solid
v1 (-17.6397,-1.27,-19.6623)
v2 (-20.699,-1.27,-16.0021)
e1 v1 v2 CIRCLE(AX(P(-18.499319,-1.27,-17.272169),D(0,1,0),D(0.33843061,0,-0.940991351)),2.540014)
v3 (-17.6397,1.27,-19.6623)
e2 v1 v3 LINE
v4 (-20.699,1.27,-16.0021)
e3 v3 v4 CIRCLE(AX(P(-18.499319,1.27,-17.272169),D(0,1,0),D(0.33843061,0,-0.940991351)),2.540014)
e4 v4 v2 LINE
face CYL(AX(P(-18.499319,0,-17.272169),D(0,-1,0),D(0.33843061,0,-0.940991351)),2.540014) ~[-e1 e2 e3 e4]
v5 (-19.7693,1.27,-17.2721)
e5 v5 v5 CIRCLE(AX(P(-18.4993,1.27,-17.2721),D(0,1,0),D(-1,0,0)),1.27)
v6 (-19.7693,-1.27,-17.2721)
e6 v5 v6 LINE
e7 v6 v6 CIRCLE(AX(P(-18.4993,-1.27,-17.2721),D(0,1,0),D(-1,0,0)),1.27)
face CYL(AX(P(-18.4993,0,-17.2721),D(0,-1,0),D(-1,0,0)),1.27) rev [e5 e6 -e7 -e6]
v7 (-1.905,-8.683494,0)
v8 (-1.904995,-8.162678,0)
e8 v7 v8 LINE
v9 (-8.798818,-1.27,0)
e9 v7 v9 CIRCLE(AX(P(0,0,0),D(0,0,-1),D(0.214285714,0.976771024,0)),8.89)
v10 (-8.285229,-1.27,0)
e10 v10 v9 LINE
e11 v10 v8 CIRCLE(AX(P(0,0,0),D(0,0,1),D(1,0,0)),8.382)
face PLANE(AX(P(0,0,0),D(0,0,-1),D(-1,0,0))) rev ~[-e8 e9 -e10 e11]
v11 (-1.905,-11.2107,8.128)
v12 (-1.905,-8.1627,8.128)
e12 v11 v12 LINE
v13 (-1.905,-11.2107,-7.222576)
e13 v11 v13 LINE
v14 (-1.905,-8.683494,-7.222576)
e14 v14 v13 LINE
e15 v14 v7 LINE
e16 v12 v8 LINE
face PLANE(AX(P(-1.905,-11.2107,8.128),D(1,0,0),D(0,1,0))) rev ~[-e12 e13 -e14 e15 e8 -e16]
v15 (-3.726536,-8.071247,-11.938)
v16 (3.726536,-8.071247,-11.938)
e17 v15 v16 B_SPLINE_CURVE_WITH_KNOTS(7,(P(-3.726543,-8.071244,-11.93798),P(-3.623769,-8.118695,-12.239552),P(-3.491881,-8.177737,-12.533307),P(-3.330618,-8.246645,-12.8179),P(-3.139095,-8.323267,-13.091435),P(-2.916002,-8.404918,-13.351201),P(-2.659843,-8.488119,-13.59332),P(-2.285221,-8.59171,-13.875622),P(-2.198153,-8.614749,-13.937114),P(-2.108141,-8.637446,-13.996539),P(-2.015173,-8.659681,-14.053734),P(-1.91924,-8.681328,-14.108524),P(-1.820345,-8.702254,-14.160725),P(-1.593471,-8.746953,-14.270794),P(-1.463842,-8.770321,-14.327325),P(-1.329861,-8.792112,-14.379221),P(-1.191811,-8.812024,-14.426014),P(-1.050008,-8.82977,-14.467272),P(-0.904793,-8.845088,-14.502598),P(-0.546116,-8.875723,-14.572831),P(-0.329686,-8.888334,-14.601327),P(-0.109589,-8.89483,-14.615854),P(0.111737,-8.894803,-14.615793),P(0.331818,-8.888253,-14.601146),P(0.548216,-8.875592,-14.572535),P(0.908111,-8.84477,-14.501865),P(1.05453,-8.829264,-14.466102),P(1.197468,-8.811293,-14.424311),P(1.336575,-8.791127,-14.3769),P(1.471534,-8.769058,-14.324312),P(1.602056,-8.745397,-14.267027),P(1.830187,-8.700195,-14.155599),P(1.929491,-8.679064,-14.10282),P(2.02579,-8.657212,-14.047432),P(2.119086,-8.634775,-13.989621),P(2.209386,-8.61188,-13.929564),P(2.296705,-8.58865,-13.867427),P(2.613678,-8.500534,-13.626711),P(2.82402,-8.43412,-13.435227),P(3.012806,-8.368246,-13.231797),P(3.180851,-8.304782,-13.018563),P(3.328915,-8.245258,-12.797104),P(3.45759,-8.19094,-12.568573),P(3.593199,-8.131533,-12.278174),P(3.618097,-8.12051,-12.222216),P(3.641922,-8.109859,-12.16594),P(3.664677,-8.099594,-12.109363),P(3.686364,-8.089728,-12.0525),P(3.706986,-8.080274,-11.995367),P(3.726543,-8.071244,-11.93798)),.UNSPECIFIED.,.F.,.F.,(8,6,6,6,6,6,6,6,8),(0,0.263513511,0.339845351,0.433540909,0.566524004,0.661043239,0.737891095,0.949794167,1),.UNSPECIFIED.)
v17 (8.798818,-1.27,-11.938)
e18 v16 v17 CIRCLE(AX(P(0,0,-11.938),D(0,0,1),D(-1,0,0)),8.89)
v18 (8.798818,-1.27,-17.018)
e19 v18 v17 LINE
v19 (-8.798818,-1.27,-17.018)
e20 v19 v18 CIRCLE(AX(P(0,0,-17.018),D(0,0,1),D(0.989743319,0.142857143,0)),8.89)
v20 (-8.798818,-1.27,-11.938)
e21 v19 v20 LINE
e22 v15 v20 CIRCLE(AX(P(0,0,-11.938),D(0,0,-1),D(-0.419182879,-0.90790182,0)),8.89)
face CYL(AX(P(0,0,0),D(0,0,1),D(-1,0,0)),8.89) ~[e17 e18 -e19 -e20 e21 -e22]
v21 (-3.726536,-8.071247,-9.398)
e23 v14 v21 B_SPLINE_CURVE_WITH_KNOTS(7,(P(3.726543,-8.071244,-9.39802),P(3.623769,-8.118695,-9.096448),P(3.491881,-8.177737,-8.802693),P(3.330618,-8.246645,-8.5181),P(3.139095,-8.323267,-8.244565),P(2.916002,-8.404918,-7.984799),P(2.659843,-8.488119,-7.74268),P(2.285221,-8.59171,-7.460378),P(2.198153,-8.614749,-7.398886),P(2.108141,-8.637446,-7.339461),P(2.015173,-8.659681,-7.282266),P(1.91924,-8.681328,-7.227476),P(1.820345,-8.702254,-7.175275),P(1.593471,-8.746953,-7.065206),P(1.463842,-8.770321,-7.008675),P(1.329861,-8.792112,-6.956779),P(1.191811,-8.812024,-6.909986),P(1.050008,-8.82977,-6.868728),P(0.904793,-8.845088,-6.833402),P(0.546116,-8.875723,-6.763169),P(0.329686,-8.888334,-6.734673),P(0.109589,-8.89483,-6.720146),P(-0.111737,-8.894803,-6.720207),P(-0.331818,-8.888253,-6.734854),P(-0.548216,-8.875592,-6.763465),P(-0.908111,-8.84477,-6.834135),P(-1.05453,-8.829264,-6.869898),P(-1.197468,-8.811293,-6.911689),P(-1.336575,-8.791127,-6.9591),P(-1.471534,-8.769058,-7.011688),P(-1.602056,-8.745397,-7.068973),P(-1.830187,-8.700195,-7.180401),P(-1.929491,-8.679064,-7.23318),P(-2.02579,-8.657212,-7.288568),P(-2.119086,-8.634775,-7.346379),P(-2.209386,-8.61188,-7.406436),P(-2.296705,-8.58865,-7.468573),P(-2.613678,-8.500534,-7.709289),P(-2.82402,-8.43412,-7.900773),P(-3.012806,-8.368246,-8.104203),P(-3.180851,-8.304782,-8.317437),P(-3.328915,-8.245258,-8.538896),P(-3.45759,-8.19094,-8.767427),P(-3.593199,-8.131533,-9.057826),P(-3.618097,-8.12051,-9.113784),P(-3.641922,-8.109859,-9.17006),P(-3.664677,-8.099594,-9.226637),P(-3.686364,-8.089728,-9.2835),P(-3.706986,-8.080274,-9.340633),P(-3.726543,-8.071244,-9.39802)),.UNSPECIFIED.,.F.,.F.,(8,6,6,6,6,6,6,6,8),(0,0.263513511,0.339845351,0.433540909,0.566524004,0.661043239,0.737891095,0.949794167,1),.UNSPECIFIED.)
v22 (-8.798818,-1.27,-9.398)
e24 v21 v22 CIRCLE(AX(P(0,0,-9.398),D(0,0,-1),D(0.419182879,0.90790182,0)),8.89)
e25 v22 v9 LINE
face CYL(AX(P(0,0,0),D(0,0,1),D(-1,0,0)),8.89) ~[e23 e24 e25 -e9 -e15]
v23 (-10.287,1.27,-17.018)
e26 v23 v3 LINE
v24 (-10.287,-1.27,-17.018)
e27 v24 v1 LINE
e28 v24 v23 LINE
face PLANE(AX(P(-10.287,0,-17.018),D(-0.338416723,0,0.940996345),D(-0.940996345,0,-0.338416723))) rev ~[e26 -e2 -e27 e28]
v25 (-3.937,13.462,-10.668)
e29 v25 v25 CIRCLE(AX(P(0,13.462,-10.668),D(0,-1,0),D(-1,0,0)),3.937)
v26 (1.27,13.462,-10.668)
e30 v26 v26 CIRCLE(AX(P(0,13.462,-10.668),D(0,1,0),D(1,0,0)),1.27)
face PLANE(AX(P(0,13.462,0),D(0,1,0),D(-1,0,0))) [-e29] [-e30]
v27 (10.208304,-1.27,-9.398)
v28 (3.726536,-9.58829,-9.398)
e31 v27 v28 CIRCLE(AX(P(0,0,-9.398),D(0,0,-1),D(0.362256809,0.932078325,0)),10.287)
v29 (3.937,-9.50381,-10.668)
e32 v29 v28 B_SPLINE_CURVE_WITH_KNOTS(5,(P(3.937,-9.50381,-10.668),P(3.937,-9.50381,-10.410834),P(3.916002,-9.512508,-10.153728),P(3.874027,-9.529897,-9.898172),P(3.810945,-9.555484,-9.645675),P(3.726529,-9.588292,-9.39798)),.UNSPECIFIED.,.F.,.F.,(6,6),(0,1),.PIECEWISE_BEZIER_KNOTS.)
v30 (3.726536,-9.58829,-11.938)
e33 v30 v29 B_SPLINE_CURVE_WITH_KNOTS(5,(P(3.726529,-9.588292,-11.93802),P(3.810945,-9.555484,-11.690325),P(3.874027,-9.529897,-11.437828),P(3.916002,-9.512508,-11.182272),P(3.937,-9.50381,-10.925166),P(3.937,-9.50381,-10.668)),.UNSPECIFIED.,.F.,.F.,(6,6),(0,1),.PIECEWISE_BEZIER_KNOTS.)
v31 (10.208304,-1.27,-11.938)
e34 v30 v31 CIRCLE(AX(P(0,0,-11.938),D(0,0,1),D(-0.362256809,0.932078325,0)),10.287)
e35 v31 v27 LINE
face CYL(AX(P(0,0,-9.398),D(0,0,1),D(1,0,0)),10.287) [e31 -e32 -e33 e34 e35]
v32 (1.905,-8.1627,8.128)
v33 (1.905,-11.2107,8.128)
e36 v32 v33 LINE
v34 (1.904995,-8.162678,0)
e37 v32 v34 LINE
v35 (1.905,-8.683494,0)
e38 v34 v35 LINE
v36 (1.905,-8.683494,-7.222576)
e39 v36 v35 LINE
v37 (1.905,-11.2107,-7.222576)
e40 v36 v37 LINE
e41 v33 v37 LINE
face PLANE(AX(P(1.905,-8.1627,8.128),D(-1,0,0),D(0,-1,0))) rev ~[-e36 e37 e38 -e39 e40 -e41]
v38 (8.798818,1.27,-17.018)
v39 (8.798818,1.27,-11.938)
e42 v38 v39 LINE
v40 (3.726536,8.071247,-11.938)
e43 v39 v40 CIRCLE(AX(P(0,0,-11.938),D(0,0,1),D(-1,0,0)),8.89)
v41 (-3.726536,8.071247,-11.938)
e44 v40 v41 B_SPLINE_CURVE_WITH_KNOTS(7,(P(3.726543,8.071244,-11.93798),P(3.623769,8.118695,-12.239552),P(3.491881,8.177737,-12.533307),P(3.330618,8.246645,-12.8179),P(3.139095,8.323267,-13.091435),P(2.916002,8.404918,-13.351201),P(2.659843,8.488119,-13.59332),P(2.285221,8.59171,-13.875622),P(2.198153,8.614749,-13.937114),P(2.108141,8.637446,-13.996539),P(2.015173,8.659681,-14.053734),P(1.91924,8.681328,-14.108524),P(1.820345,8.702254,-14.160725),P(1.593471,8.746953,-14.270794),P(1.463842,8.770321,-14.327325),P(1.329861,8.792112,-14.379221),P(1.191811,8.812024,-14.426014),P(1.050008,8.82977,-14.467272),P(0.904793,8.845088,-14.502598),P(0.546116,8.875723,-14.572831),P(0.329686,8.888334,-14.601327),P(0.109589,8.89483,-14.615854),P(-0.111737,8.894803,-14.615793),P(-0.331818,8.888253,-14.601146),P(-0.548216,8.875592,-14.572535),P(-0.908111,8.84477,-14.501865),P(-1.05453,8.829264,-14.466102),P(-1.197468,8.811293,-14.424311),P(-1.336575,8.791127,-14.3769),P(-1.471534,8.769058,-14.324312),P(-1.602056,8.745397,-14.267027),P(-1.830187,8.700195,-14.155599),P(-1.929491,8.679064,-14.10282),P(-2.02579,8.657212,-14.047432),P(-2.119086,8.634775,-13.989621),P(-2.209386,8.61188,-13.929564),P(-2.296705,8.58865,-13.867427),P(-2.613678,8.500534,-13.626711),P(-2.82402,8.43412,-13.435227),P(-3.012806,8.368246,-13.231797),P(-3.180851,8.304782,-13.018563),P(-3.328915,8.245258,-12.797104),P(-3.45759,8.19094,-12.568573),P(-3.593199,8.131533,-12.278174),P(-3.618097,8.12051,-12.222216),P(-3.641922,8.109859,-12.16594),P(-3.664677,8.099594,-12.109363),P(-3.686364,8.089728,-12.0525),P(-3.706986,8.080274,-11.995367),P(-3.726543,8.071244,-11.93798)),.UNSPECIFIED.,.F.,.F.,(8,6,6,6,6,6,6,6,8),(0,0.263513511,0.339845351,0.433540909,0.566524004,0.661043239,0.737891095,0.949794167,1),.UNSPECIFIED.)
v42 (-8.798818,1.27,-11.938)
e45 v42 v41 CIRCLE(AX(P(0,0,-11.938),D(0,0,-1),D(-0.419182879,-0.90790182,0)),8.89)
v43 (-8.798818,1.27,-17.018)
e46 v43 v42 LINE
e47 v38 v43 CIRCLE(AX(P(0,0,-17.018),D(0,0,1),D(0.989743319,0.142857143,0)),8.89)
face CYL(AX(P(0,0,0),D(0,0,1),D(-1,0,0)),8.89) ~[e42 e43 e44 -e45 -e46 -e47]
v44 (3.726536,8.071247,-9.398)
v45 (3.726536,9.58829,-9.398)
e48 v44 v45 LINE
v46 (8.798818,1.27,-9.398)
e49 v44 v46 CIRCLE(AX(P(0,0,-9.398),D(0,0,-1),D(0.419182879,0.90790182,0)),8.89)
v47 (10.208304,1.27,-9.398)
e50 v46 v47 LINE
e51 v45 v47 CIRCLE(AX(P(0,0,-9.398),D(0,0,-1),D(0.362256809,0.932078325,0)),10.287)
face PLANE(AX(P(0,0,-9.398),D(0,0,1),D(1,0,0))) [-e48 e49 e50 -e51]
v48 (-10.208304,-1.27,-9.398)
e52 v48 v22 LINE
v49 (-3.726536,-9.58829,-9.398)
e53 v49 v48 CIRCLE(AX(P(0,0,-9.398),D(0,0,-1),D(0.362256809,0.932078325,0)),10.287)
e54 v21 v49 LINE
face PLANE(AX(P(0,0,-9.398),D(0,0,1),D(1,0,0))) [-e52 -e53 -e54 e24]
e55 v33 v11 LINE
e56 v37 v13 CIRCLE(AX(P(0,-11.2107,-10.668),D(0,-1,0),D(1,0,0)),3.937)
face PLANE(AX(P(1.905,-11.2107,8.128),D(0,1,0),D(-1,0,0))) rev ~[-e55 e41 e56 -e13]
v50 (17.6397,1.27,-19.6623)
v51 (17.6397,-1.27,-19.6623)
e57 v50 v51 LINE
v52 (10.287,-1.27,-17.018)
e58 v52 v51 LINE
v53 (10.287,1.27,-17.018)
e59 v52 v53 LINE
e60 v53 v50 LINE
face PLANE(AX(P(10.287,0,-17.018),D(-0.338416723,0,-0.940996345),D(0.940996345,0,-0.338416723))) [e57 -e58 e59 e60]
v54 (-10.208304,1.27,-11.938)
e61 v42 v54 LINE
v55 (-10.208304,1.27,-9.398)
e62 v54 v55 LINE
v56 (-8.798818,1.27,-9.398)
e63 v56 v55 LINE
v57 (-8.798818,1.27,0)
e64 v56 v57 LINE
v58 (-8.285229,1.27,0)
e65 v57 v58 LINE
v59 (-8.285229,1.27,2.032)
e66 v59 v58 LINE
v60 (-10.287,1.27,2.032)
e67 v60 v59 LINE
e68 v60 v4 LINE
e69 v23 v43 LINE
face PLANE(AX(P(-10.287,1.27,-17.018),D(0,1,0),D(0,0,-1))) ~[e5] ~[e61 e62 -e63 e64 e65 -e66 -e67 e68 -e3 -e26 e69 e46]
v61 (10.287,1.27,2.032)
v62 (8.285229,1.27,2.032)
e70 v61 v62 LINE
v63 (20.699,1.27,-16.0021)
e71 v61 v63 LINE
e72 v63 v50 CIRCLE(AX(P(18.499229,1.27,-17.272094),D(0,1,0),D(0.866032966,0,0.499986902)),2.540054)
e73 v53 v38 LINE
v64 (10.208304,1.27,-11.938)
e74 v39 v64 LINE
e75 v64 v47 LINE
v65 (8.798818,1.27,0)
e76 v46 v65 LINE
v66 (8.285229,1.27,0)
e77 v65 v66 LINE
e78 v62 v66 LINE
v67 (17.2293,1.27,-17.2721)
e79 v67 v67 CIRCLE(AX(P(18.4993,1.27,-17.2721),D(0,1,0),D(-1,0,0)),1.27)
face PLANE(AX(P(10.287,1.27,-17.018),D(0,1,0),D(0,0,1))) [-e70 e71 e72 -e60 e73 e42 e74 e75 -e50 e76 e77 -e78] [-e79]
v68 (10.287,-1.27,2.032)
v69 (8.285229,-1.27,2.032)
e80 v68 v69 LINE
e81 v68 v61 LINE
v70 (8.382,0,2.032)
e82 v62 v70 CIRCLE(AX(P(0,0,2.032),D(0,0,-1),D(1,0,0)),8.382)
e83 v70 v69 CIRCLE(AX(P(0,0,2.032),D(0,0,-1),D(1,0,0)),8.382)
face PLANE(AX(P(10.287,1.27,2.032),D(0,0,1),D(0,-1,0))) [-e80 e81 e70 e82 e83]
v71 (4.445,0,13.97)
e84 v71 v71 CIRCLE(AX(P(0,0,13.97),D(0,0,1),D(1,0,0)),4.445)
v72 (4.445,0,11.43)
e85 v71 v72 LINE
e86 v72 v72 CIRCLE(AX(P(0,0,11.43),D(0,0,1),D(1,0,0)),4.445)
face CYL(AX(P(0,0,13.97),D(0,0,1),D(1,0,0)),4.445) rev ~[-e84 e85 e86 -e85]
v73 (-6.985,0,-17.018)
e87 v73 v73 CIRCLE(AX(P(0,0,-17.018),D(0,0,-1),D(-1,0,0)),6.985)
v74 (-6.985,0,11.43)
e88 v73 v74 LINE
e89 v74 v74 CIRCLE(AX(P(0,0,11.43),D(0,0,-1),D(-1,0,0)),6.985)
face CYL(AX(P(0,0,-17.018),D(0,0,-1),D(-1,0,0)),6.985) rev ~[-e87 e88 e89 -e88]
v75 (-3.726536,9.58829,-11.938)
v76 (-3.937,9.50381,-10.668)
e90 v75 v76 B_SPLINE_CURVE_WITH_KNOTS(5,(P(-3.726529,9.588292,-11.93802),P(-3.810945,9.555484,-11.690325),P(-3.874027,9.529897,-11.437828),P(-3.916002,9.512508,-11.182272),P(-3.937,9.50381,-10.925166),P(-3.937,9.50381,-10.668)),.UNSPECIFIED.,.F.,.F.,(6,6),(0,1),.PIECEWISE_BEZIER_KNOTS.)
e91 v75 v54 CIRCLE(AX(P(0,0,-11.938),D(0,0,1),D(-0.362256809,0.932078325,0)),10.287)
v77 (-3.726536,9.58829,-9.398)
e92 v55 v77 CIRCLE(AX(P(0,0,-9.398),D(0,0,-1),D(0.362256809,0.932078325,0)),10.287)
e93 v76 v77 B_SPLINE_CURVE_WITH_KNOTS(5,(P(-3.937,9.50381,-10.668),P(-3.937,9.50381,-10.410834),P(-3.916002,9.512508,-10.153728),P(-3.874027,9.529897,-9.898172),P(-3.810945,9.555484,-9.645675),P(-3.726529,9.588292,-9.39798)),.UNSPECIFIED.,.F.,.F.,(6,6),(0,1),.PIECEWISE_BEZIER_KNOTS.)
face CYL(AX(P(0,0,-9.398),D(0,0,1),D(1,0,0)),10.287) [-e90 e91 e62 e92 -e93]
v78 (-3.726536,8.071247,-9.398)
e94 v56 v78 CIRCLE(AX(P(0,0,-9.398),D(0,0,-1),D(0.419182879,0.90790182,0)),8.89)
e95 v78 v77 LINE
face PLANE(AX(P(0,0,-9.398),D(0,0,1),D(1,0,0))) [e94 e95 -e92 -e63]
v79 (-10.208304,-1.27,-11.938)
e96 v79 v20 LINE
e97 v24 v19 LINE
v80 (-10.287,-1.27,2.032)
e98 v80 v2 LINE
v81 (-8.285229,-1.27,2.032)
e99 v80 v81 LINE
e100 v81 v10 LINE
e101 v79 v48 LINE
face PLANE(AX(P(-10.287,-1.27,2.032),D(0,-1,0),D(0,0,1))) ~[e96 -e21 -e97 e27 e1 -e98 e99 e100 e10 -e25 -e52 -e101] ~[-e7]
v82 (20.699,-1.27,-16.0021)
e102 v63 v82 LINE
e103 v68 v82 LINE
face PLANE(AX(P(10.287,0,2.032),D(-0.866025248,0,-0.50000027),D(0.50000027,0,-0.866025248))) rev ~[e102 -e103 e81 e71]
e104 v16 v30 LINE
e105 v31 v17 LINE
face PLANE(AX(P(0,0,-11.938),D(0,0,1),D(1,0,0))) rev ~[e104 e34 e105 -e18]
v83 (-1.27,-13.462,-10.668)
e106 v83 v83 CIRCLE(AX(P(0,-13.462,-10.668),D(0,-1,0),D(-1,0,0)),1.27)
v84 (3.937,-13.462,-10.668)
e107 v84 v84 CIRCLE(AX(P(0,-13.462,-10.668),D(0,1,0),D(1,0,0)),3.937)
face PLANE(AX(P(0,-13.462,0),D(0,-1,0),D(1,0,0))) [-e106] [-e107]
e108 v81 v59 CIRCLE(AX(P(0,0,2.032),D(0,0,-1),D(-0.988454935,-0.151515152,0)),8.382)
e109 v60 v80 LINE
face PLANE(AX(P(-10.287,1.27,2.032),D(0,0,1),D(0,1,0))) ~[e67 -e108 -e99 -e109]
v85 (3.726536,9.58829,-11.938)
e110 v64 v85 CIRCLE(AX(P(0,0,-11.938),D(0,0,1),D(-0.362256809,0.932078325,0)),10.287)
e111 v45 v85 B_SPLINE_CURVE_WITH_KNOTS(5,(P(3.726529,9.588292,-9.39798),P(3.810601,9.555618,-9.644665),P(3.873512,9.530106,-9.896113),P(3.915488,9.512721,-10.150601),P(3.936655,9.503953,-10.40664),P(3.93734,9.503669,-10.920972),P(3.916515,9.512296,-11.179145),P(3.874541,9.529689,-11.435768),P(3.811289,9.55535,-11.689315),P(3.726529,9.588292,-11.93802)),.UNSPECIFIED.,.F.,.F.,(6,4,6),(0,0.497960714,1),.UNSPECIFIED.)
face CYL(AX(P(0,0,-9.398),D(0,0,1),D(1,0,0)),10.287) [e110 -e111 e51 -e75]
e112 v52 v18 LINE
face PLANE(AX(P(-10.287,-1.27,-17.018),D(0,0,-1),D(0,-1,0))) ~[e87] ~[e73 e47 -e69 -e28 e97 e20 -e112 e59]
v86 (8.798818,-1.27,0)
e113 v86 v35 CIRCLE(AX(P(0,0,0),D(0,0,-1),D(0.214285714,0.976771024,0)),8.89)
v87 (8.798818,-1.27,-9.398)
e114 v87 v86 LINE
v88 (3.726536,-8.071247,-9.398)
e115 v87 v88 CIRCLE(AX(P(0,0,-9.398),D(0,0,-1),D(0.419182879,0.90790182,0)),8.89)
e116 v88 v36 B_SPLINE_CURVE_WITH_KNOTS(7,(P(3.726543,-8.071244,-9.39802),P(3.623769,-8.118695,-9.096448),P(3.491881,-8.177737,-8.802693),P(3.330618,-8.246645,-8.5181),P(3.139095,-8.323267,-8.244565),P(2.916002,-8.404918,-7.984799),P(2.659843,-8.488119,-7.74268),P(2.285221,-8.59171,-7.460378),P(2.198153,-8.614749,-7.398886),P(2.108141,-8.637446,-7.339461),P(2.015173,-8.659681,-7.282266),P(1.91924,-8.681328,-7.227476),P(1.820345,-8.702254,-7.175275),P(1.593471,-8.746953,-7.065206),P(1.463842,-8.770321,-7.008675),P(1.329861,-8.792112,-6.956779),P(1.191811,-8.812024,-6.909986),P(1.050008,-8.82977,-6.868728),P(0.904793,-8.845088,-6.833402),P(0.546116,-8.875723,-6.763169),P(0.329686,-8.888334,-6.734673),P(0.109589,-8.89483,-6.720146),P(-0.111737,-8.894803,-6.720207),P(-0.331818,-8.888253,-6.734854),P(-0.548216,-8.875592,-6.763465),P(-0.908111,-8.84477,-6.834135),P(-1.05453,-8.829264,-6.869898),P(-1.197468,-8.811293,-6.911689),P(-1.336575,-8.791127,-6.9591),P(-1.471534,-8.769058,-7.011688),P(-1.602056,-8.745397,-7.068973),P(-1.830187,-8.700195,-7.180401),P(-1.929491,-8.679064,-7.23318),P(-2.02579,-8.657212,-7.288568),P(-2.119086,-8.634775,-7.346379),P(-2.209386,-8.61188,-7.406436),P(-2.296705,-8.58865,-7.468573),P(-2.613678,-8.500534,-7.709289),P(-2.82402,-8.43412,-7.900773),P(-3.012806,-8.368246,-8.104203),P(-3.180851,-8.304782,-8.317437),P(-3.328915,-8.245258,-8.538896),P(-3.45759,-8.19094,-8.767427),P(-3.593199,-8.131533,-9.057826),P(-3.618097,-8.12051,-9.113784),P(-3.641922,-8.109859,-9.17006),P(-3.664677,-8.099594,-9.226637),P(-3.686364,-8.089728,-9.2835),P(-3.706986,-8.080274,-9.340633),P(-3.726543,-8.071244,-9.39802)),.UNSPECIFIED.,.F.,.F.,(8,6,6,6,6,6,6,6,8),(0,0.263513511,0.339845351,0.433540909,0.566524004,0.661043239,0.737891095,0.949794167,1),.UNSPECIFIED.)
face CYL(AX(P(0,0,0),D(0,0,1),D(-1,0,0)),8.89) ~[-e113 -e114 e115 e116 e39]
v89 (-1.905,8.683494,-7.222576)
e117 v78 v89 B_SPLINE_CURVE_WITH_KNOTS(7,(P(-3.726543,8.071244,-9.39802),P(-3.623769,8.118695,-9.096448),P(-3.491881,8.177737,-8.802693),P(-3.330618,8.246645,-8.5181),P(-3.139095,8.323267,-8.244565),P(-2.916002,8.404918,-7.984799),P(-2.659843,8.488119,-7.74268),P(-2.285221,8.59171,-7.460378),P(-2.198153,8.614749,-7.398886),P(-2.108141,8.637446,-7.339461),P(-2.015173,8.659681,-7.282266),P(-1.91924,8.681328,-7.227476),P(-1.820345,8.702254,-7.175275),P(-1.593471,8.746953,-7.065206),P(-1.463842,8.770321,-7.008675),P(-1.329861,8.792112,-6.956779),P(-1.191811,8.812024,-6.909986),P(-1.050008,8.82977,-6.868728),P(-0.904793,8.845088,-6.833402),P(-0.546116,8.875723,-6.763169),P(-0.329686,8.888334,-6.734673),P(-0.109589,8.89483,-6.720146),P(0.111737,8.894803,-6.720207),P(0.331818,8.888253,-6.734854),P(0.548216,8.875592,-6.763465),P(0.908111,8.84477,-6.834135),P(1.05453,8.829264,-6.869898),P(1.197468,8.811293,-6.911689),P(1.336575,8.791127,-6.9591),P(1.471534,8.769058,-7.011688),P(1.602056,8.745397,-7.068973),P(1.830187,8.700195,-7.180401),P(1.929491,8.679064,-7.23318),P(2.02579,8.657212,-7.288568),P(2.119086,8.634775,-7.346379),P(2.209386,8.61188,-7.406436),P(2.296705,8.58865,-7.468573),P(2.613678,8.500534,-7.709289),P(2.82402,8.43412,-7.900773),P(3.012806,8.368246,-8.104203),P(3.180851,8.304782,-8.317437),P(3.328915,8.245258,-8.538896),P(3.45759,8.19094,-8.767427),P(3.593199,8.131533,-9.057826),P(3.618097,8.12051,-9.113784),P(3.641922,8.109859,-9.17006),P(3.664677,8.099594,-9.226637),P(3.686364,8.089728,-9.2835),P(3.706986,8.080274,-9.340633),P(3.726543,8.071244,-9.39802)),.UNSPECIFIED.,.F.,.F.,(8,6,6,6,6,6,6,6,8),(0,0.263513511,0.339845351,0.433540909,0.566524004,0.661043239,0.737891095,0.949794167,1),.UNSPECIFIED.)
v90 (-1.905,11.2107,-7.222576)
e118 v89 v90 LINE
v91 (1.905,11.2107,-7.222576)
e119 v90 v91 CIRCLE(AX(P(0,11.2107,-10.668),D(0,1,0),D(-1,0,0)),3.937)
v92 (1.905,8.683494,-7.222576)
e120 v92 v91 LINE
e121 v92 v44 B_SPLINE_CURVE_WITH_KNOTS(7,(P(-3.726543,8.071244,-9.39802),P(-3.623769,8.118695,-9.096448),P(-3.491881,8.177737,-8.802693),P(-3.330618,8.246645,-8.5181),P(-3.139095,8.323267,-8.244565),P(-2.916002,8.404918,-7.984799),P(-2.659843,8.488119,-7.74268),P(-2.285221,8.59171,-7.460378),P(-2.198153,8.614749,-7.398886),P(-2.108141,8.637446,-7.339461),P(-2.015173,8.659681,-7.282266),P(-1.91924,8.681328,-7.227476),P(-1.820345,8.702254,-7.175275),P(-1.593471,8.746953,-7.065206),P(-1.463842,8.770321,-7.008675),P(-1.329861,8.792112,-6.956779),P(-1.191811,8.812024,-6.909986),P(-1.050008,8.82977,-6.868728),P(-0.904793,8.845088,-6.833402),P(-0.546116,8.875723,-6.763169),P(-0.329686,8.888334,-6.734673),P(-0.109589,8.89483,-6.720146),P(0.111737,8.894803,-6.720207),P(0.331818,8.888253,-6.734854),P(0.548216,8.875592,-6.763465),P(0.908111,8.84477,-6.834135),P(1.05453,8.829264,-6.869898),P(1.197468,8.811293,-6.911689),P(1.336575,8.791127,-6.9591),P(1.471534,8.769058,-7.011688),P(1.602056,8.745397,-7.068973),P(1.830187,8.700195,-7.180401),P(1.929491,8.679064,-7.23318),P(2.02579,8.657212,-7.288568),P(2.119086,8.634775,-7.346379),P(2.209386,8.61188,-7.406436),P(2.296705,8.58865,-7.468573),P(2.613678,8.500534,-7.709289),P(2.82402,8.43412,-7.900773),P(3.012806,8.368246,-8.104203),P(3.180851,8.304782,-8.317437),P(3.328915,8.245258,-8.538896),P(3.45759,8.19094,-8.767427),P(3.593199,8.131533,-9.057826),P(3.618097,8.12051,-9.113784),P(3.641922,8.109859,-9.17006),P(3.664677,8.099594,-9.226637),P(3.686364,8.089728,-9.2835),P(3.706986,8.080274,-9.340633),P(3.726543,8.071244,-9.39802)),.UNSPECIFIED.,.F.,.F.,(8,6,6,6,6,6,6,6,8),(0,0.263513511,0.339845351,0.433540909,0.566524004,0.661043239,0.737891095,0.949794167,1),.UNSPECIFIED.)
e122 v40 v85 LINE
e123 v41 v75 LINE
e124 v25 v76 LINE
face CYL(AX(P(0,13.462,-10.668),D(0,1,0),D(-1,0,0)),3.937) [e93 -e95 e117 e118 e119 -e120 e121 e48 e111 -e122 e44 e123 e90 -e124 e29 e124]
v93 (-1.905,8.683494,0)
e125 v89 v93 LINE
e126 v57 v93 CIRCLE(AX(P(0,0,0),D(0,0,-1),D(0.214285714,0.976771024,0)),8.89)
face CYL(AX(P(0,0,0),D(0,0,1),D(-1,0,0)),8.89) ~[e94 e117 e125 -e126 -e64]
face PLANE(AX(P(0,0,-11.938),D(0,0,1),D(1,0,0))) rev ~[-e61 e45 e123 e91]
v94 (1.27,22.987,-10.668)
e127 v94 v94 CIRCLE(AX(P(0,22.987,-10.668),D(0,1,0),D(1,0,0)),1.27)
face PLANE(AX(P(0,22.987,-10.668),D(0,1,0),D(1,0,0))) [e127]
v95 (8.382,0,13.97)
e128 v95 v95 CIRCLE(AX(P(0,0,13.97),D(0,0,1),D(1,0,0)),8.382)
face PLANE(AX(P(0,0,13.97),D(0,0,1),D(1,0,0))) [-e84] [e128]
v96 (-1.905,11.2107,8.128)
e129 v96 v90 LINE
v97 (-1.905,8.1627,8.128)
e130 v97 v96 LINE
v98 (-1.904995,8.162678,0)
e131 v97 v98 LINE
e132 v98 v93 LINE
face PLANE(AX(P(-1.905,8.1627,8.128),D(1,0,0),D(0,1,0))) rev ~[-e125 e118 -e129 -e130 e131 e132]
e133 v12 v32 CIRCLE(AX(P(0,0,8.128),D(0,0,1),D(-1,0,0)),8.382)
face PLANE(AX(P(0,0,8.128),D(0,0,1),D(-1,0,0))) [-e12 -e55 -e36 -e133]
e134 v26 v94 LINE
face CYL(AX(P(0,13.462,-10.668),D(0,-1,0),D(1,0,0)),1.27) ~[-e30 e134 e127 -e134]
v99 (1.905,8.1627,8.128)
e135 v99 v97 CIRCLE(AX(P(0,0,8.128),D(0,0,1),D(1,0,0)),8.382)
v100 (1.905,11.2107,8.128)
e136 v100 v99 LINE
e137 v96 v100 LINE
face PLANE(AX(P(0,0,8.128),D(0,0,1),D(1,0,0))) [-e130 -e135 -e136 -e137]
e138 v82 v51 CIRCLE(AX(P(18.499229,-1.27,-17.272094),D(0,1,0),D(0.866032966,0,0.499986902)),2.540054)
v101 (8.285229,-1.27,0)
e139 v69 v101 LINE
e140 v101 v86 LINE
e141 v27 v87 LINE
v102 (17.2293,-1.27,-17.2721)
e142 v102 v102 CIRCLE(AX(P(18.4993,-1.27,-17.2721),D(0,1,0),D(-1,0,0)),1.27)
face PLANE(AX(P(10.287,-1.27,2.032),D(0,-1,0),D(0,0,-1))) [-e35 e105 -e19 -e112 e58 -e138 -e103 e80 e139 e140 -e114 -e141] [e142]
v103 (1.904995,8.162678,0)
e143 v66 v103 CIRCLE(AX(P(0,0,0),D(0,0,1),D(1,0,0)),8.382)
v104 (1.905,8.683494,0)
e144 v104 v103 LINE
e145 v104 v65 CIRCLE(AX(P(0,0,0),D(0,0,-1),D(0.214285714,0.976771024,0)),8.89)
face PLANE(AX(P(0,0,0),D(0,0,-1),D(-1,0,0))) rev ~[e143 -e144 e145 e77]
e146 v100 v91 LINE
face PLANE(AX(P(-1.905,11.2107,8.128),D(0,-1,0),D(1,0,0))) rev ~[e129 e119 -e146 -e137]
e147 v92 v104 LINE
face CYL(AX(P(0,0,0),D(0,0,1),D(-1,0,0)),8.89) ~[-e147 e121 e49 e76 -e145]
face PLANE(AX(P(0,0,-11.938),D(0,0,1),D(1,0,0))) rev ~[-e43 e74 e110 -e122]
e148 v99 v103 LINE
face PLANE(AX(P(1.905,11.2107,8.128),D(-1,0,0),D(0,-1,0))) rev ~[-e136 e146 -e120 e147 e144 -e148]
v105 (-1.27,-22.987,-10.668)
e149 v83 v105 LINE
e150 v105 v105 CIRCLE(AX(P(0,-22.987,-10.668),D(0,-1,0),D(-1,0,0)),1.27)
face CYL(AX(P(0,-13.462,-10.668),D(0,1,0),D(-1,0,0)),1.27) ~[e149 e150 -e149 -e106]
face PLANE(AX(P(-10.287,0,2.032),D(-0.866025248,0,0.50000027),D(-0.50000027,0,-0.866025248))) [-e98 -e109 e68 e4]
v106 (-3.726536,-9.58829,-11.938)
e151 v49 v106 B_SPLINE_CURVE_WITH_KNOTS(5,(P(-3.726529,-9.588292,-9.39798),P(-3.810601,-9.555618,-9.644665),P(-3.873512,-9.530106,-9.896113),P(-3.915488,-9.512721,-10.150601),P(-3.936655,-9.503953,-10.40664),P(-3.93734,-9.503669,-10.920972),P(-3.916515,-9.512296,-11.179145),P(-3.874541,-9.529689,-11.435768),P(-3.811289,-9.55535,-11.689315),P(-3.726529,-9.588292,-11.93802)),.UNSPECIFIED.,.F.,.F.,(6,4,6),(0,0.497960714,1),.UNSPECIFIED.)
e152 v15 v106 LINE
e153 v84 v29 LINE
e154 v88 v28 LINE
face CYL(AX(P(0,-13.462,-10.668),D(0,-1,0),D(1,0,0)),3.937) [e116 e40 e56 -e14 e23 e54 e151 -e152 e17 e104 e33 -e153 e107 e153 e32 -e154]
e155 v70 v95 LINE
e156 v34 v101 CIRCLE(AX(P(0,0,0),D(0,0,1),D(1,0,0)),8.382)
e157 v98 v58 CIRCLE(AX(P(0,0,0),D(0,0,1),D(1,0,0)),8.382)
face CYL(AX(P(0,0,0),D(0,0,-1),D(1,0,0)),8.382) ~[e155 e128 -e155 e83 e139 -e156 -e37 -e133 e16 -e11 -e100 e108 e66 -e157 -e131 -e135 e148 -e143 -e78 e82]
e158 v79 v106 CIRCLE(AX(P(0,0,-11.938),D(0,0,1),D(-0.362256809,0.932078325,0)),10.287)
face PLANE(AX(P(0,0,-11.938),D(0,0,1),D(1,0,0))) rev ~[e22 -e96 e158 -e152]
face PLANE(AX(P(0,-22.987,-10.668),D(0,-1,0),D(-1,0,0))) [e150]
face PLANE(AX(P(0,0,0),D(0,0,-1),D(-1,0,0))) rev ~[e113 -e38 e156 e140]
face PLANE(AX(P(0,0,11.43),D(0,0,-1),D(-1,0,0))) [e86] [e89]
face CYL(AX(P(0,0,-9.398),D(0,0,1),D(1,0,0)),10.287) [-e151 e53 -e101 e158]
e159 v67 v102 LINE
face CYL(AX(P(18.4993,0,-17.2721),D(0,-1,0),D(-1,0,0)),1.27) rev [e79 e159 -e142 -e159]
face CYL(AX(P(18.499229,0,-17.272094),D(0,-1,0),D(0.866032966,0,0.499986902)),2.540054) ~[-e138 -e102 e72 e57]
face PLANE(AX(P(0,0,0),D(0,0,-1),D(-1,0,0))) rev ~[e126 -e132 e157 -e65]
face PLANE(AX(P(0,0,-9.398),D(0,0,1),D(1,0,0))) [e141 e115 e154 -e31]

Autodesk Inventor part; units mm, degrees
sketch "Sketch2" plane through (0, 0, 0) normal (0, 0, 1) x (1, 0, 0)
  circle A0 centre (0, 0) radius 8.382
  dimension "d0" = 16.764
extrude "Extrusion1" add sketch "Sketch2" along normal blind 13.97
sketch "Sketch3" plane through (0, 0, 0) normal (0, 0, -1) x (-1, 0, 0)
  circle A0 centre (0, 0) radius 8.382 projected
  circle A1 centre (0, 0) radius 8.89
  dimension "d3" = 17.78
extrude "Extrusion2" add sketch "Sketch3" along normal blind 17.018 contours A0 | A1
ref_plane "Work Plane1" through (0, 0, -9.398) normal (0, 0, 1) x (1, 0, 0)
sketch "Sketch4" plane through (0, 0, -9.398) normal (0, 0, 1) x (1, 0, 0)
  circle A0 centre (0, 0) radius 8.89
  circle A1 centre (0, 0) radius 10.287
  circle A2 centre (0, 0) radius 8.89 projected
  dimension "d7" = 20.574
extrude "Extrusion3" add sketch "Sketch4" against normal blind 2.54
ref_plane "Work Plane6" through (0, 13.462, 0) normal (0, 1, 0) x (-1, 0, 0)
ref_plane "Work Plane5" through (0, 8.89, 0) normal (0, 1, 0) x (-1, 0, 0)
sketch "Sketch6" plane through (0, 13.462, 0) normal (0, 1, 0) x (-1, 0, 0)
  circle A0 centre (0, -10.668) radius 3.937
  line L0 (-9.4933, -9.398) -> (9.4933, -9.398) projected
  line L1 (9.4933, -11.938) -> (-9.4933, -11.938) projected
  line L2 (0, -24.5018) -> (0, -30.8914) construction
  point P0 (0, 0)
  dimension "d16" = 7.874
  dimension "d17" = 1.27
extrude "Extrusion4" add sketch "Sketch6" against normal up to surface
ref_plane "Work Plane7" through (0, 0, 8.128) normal (0, 0, 1) x (1, 0, 0)
sketch "Sketch7" plane through (0, 0, 8.128) normal (0, 0, 1) x (1, 0, 0)
  circle A0 centre (0, 0) radius 8.382 projected
  line L0 (-1.905, 8.1627) -> (-1.905, 11.2107)
  line L1 (-1.905, 11.2107) -> (1.905, 11.2107)
  line L2 (1.905, 11.2107) -> (1.905, 8.1627)
  arc A1 (1.905, 8.1627) -> (-1.905, 8.1627) centre (0, 0) ccw
  dimension "d25" = 16.764
  dimension "d26" = 3.81
  dimension "d27" = 3.048
  dimension "d28" = 1.905
extrude "Extrusion5" add sketch "Sketch7" against normal up to surface contours A0 L0 L1 L2
pattern_circular "Circular Pattern1" count 2 over 360 about axis through (0, 0, 0) along (0, 0, 1) of "Extrusion4", "Extrusion5"
sketch "Sketch8" plane through (0, 13.462, -10.668) normal (0, 1, 0) x (1, 0, 0)
  circle A0 centre (0, 0) radius 3.937 projected
  circle A1 centre (0, 0) radius 1.27
  point P0 (0, -10.668)
  dimension "d34" = 2.54
extrude "Extrusion6" add sketch "Sketch8" along normal blind 9.525 contours A1
pattern_circular "Circular Pattern2" count 2 over 360 about axis through (0, 0, 0) along (0, 0, 1) of "Extrusion6"
sketch "Sketch9" plane through (0, 0, -17.018) normal (0, 0, -1) x (-1, 0, 0)
  circle A0 centre (0, 0) radius 8.89 projected
  circle A1 centre (0, 0) radius 6.985
  dimension "d40" = 13.97
extrude "Extrusion7" cut sketch "Sketch9" against normal blind 28.448 contours A1
sketch "Sketch10" plane through (0, 0, 13.97) normal (0, 0, 1) x (1, 0, 0)
  circle A0 centre (0, 0) radius 8.382 projected
  circle A1 centre (0, 0) radius 4.445
  dimension "d43" = 8.89
extrude "Extrusion8" cut sketch "Sketch10" against normal up to surface (2.54 mm away) contours A1
sketch "Sketch12" plane through (0, 0, 0) normal (0, 1, 0) x (-1, 0, 0)
  line L0 (-10.287, -17.018) -> (-10.287, 2.032)
  circle A0 centre (-18.4993, -17.2721) radius 1.27
  arc A1 (-20.699, -16.0021) -> (-17.6397, -19.6623) centre (-18.4993, -17.2721) ccw
  line L1 (-10.287, 2.032) -> (-20.699, -16.0021)
  line L2 (-10.287, -17.018) -> (-17.6397, -19.6623)
  line L3 (8.89, -17.018) -> (-8.89, -17.018) projected
  line L4 (-10.287, -9.398) -> (-10.287, -11.938) projected
  line L5 (0, -20.2977) -> (0, -33.1857) construction
  line L6 (10.287, -17.018) -> (10.287, 2.032)
  circle A2 centre (18.4993, -17.2721) radius 1.27
  arc A3 (17.6397, -19.6623) -> (20.699, -16.0021) centre (18.4993, -17.2721) ccw
  line L7 (10.287, 2.032) -> (20.699, -16.0021)
  line L8 (10.287, -17.018) -> (17.6397, -19.6623)
  line L9 (10.287, -9.398) -> (10.287, -11.938)
  point P0 (0, 0)
  dimension "d46" = 2.54
  dimension "d47" = 5.08
  dimension "d48" = 30
  dimension "d49" = 19.05
extrude "Extrusion9" add sketch "Sketch12" along normal mid plane 2.54
sketch "Sketch13" plane through (10.287, -1.27, -17.018) normal (-1, 0, 0) x (0, 0, 1)
  line L0 (0, 2.54) -> (19.05, 2.54)
  line L1 (19.05, 2.54) -> (19.05, 0)
  line L2 (19.05, 0) -> (0, 0)
  line L3 (0, 0) -> (0, 2.54)
  point P0 (17.018, 1.27)
extrude "Extrusion10" add sketch "Sketch13" along normal up to surface
mirror "Mirror1" about plane through (0, 0, 0) normal (1, 0, 0) of "Extrusion10"
properties part number "Axle Body - Front - Custom"
